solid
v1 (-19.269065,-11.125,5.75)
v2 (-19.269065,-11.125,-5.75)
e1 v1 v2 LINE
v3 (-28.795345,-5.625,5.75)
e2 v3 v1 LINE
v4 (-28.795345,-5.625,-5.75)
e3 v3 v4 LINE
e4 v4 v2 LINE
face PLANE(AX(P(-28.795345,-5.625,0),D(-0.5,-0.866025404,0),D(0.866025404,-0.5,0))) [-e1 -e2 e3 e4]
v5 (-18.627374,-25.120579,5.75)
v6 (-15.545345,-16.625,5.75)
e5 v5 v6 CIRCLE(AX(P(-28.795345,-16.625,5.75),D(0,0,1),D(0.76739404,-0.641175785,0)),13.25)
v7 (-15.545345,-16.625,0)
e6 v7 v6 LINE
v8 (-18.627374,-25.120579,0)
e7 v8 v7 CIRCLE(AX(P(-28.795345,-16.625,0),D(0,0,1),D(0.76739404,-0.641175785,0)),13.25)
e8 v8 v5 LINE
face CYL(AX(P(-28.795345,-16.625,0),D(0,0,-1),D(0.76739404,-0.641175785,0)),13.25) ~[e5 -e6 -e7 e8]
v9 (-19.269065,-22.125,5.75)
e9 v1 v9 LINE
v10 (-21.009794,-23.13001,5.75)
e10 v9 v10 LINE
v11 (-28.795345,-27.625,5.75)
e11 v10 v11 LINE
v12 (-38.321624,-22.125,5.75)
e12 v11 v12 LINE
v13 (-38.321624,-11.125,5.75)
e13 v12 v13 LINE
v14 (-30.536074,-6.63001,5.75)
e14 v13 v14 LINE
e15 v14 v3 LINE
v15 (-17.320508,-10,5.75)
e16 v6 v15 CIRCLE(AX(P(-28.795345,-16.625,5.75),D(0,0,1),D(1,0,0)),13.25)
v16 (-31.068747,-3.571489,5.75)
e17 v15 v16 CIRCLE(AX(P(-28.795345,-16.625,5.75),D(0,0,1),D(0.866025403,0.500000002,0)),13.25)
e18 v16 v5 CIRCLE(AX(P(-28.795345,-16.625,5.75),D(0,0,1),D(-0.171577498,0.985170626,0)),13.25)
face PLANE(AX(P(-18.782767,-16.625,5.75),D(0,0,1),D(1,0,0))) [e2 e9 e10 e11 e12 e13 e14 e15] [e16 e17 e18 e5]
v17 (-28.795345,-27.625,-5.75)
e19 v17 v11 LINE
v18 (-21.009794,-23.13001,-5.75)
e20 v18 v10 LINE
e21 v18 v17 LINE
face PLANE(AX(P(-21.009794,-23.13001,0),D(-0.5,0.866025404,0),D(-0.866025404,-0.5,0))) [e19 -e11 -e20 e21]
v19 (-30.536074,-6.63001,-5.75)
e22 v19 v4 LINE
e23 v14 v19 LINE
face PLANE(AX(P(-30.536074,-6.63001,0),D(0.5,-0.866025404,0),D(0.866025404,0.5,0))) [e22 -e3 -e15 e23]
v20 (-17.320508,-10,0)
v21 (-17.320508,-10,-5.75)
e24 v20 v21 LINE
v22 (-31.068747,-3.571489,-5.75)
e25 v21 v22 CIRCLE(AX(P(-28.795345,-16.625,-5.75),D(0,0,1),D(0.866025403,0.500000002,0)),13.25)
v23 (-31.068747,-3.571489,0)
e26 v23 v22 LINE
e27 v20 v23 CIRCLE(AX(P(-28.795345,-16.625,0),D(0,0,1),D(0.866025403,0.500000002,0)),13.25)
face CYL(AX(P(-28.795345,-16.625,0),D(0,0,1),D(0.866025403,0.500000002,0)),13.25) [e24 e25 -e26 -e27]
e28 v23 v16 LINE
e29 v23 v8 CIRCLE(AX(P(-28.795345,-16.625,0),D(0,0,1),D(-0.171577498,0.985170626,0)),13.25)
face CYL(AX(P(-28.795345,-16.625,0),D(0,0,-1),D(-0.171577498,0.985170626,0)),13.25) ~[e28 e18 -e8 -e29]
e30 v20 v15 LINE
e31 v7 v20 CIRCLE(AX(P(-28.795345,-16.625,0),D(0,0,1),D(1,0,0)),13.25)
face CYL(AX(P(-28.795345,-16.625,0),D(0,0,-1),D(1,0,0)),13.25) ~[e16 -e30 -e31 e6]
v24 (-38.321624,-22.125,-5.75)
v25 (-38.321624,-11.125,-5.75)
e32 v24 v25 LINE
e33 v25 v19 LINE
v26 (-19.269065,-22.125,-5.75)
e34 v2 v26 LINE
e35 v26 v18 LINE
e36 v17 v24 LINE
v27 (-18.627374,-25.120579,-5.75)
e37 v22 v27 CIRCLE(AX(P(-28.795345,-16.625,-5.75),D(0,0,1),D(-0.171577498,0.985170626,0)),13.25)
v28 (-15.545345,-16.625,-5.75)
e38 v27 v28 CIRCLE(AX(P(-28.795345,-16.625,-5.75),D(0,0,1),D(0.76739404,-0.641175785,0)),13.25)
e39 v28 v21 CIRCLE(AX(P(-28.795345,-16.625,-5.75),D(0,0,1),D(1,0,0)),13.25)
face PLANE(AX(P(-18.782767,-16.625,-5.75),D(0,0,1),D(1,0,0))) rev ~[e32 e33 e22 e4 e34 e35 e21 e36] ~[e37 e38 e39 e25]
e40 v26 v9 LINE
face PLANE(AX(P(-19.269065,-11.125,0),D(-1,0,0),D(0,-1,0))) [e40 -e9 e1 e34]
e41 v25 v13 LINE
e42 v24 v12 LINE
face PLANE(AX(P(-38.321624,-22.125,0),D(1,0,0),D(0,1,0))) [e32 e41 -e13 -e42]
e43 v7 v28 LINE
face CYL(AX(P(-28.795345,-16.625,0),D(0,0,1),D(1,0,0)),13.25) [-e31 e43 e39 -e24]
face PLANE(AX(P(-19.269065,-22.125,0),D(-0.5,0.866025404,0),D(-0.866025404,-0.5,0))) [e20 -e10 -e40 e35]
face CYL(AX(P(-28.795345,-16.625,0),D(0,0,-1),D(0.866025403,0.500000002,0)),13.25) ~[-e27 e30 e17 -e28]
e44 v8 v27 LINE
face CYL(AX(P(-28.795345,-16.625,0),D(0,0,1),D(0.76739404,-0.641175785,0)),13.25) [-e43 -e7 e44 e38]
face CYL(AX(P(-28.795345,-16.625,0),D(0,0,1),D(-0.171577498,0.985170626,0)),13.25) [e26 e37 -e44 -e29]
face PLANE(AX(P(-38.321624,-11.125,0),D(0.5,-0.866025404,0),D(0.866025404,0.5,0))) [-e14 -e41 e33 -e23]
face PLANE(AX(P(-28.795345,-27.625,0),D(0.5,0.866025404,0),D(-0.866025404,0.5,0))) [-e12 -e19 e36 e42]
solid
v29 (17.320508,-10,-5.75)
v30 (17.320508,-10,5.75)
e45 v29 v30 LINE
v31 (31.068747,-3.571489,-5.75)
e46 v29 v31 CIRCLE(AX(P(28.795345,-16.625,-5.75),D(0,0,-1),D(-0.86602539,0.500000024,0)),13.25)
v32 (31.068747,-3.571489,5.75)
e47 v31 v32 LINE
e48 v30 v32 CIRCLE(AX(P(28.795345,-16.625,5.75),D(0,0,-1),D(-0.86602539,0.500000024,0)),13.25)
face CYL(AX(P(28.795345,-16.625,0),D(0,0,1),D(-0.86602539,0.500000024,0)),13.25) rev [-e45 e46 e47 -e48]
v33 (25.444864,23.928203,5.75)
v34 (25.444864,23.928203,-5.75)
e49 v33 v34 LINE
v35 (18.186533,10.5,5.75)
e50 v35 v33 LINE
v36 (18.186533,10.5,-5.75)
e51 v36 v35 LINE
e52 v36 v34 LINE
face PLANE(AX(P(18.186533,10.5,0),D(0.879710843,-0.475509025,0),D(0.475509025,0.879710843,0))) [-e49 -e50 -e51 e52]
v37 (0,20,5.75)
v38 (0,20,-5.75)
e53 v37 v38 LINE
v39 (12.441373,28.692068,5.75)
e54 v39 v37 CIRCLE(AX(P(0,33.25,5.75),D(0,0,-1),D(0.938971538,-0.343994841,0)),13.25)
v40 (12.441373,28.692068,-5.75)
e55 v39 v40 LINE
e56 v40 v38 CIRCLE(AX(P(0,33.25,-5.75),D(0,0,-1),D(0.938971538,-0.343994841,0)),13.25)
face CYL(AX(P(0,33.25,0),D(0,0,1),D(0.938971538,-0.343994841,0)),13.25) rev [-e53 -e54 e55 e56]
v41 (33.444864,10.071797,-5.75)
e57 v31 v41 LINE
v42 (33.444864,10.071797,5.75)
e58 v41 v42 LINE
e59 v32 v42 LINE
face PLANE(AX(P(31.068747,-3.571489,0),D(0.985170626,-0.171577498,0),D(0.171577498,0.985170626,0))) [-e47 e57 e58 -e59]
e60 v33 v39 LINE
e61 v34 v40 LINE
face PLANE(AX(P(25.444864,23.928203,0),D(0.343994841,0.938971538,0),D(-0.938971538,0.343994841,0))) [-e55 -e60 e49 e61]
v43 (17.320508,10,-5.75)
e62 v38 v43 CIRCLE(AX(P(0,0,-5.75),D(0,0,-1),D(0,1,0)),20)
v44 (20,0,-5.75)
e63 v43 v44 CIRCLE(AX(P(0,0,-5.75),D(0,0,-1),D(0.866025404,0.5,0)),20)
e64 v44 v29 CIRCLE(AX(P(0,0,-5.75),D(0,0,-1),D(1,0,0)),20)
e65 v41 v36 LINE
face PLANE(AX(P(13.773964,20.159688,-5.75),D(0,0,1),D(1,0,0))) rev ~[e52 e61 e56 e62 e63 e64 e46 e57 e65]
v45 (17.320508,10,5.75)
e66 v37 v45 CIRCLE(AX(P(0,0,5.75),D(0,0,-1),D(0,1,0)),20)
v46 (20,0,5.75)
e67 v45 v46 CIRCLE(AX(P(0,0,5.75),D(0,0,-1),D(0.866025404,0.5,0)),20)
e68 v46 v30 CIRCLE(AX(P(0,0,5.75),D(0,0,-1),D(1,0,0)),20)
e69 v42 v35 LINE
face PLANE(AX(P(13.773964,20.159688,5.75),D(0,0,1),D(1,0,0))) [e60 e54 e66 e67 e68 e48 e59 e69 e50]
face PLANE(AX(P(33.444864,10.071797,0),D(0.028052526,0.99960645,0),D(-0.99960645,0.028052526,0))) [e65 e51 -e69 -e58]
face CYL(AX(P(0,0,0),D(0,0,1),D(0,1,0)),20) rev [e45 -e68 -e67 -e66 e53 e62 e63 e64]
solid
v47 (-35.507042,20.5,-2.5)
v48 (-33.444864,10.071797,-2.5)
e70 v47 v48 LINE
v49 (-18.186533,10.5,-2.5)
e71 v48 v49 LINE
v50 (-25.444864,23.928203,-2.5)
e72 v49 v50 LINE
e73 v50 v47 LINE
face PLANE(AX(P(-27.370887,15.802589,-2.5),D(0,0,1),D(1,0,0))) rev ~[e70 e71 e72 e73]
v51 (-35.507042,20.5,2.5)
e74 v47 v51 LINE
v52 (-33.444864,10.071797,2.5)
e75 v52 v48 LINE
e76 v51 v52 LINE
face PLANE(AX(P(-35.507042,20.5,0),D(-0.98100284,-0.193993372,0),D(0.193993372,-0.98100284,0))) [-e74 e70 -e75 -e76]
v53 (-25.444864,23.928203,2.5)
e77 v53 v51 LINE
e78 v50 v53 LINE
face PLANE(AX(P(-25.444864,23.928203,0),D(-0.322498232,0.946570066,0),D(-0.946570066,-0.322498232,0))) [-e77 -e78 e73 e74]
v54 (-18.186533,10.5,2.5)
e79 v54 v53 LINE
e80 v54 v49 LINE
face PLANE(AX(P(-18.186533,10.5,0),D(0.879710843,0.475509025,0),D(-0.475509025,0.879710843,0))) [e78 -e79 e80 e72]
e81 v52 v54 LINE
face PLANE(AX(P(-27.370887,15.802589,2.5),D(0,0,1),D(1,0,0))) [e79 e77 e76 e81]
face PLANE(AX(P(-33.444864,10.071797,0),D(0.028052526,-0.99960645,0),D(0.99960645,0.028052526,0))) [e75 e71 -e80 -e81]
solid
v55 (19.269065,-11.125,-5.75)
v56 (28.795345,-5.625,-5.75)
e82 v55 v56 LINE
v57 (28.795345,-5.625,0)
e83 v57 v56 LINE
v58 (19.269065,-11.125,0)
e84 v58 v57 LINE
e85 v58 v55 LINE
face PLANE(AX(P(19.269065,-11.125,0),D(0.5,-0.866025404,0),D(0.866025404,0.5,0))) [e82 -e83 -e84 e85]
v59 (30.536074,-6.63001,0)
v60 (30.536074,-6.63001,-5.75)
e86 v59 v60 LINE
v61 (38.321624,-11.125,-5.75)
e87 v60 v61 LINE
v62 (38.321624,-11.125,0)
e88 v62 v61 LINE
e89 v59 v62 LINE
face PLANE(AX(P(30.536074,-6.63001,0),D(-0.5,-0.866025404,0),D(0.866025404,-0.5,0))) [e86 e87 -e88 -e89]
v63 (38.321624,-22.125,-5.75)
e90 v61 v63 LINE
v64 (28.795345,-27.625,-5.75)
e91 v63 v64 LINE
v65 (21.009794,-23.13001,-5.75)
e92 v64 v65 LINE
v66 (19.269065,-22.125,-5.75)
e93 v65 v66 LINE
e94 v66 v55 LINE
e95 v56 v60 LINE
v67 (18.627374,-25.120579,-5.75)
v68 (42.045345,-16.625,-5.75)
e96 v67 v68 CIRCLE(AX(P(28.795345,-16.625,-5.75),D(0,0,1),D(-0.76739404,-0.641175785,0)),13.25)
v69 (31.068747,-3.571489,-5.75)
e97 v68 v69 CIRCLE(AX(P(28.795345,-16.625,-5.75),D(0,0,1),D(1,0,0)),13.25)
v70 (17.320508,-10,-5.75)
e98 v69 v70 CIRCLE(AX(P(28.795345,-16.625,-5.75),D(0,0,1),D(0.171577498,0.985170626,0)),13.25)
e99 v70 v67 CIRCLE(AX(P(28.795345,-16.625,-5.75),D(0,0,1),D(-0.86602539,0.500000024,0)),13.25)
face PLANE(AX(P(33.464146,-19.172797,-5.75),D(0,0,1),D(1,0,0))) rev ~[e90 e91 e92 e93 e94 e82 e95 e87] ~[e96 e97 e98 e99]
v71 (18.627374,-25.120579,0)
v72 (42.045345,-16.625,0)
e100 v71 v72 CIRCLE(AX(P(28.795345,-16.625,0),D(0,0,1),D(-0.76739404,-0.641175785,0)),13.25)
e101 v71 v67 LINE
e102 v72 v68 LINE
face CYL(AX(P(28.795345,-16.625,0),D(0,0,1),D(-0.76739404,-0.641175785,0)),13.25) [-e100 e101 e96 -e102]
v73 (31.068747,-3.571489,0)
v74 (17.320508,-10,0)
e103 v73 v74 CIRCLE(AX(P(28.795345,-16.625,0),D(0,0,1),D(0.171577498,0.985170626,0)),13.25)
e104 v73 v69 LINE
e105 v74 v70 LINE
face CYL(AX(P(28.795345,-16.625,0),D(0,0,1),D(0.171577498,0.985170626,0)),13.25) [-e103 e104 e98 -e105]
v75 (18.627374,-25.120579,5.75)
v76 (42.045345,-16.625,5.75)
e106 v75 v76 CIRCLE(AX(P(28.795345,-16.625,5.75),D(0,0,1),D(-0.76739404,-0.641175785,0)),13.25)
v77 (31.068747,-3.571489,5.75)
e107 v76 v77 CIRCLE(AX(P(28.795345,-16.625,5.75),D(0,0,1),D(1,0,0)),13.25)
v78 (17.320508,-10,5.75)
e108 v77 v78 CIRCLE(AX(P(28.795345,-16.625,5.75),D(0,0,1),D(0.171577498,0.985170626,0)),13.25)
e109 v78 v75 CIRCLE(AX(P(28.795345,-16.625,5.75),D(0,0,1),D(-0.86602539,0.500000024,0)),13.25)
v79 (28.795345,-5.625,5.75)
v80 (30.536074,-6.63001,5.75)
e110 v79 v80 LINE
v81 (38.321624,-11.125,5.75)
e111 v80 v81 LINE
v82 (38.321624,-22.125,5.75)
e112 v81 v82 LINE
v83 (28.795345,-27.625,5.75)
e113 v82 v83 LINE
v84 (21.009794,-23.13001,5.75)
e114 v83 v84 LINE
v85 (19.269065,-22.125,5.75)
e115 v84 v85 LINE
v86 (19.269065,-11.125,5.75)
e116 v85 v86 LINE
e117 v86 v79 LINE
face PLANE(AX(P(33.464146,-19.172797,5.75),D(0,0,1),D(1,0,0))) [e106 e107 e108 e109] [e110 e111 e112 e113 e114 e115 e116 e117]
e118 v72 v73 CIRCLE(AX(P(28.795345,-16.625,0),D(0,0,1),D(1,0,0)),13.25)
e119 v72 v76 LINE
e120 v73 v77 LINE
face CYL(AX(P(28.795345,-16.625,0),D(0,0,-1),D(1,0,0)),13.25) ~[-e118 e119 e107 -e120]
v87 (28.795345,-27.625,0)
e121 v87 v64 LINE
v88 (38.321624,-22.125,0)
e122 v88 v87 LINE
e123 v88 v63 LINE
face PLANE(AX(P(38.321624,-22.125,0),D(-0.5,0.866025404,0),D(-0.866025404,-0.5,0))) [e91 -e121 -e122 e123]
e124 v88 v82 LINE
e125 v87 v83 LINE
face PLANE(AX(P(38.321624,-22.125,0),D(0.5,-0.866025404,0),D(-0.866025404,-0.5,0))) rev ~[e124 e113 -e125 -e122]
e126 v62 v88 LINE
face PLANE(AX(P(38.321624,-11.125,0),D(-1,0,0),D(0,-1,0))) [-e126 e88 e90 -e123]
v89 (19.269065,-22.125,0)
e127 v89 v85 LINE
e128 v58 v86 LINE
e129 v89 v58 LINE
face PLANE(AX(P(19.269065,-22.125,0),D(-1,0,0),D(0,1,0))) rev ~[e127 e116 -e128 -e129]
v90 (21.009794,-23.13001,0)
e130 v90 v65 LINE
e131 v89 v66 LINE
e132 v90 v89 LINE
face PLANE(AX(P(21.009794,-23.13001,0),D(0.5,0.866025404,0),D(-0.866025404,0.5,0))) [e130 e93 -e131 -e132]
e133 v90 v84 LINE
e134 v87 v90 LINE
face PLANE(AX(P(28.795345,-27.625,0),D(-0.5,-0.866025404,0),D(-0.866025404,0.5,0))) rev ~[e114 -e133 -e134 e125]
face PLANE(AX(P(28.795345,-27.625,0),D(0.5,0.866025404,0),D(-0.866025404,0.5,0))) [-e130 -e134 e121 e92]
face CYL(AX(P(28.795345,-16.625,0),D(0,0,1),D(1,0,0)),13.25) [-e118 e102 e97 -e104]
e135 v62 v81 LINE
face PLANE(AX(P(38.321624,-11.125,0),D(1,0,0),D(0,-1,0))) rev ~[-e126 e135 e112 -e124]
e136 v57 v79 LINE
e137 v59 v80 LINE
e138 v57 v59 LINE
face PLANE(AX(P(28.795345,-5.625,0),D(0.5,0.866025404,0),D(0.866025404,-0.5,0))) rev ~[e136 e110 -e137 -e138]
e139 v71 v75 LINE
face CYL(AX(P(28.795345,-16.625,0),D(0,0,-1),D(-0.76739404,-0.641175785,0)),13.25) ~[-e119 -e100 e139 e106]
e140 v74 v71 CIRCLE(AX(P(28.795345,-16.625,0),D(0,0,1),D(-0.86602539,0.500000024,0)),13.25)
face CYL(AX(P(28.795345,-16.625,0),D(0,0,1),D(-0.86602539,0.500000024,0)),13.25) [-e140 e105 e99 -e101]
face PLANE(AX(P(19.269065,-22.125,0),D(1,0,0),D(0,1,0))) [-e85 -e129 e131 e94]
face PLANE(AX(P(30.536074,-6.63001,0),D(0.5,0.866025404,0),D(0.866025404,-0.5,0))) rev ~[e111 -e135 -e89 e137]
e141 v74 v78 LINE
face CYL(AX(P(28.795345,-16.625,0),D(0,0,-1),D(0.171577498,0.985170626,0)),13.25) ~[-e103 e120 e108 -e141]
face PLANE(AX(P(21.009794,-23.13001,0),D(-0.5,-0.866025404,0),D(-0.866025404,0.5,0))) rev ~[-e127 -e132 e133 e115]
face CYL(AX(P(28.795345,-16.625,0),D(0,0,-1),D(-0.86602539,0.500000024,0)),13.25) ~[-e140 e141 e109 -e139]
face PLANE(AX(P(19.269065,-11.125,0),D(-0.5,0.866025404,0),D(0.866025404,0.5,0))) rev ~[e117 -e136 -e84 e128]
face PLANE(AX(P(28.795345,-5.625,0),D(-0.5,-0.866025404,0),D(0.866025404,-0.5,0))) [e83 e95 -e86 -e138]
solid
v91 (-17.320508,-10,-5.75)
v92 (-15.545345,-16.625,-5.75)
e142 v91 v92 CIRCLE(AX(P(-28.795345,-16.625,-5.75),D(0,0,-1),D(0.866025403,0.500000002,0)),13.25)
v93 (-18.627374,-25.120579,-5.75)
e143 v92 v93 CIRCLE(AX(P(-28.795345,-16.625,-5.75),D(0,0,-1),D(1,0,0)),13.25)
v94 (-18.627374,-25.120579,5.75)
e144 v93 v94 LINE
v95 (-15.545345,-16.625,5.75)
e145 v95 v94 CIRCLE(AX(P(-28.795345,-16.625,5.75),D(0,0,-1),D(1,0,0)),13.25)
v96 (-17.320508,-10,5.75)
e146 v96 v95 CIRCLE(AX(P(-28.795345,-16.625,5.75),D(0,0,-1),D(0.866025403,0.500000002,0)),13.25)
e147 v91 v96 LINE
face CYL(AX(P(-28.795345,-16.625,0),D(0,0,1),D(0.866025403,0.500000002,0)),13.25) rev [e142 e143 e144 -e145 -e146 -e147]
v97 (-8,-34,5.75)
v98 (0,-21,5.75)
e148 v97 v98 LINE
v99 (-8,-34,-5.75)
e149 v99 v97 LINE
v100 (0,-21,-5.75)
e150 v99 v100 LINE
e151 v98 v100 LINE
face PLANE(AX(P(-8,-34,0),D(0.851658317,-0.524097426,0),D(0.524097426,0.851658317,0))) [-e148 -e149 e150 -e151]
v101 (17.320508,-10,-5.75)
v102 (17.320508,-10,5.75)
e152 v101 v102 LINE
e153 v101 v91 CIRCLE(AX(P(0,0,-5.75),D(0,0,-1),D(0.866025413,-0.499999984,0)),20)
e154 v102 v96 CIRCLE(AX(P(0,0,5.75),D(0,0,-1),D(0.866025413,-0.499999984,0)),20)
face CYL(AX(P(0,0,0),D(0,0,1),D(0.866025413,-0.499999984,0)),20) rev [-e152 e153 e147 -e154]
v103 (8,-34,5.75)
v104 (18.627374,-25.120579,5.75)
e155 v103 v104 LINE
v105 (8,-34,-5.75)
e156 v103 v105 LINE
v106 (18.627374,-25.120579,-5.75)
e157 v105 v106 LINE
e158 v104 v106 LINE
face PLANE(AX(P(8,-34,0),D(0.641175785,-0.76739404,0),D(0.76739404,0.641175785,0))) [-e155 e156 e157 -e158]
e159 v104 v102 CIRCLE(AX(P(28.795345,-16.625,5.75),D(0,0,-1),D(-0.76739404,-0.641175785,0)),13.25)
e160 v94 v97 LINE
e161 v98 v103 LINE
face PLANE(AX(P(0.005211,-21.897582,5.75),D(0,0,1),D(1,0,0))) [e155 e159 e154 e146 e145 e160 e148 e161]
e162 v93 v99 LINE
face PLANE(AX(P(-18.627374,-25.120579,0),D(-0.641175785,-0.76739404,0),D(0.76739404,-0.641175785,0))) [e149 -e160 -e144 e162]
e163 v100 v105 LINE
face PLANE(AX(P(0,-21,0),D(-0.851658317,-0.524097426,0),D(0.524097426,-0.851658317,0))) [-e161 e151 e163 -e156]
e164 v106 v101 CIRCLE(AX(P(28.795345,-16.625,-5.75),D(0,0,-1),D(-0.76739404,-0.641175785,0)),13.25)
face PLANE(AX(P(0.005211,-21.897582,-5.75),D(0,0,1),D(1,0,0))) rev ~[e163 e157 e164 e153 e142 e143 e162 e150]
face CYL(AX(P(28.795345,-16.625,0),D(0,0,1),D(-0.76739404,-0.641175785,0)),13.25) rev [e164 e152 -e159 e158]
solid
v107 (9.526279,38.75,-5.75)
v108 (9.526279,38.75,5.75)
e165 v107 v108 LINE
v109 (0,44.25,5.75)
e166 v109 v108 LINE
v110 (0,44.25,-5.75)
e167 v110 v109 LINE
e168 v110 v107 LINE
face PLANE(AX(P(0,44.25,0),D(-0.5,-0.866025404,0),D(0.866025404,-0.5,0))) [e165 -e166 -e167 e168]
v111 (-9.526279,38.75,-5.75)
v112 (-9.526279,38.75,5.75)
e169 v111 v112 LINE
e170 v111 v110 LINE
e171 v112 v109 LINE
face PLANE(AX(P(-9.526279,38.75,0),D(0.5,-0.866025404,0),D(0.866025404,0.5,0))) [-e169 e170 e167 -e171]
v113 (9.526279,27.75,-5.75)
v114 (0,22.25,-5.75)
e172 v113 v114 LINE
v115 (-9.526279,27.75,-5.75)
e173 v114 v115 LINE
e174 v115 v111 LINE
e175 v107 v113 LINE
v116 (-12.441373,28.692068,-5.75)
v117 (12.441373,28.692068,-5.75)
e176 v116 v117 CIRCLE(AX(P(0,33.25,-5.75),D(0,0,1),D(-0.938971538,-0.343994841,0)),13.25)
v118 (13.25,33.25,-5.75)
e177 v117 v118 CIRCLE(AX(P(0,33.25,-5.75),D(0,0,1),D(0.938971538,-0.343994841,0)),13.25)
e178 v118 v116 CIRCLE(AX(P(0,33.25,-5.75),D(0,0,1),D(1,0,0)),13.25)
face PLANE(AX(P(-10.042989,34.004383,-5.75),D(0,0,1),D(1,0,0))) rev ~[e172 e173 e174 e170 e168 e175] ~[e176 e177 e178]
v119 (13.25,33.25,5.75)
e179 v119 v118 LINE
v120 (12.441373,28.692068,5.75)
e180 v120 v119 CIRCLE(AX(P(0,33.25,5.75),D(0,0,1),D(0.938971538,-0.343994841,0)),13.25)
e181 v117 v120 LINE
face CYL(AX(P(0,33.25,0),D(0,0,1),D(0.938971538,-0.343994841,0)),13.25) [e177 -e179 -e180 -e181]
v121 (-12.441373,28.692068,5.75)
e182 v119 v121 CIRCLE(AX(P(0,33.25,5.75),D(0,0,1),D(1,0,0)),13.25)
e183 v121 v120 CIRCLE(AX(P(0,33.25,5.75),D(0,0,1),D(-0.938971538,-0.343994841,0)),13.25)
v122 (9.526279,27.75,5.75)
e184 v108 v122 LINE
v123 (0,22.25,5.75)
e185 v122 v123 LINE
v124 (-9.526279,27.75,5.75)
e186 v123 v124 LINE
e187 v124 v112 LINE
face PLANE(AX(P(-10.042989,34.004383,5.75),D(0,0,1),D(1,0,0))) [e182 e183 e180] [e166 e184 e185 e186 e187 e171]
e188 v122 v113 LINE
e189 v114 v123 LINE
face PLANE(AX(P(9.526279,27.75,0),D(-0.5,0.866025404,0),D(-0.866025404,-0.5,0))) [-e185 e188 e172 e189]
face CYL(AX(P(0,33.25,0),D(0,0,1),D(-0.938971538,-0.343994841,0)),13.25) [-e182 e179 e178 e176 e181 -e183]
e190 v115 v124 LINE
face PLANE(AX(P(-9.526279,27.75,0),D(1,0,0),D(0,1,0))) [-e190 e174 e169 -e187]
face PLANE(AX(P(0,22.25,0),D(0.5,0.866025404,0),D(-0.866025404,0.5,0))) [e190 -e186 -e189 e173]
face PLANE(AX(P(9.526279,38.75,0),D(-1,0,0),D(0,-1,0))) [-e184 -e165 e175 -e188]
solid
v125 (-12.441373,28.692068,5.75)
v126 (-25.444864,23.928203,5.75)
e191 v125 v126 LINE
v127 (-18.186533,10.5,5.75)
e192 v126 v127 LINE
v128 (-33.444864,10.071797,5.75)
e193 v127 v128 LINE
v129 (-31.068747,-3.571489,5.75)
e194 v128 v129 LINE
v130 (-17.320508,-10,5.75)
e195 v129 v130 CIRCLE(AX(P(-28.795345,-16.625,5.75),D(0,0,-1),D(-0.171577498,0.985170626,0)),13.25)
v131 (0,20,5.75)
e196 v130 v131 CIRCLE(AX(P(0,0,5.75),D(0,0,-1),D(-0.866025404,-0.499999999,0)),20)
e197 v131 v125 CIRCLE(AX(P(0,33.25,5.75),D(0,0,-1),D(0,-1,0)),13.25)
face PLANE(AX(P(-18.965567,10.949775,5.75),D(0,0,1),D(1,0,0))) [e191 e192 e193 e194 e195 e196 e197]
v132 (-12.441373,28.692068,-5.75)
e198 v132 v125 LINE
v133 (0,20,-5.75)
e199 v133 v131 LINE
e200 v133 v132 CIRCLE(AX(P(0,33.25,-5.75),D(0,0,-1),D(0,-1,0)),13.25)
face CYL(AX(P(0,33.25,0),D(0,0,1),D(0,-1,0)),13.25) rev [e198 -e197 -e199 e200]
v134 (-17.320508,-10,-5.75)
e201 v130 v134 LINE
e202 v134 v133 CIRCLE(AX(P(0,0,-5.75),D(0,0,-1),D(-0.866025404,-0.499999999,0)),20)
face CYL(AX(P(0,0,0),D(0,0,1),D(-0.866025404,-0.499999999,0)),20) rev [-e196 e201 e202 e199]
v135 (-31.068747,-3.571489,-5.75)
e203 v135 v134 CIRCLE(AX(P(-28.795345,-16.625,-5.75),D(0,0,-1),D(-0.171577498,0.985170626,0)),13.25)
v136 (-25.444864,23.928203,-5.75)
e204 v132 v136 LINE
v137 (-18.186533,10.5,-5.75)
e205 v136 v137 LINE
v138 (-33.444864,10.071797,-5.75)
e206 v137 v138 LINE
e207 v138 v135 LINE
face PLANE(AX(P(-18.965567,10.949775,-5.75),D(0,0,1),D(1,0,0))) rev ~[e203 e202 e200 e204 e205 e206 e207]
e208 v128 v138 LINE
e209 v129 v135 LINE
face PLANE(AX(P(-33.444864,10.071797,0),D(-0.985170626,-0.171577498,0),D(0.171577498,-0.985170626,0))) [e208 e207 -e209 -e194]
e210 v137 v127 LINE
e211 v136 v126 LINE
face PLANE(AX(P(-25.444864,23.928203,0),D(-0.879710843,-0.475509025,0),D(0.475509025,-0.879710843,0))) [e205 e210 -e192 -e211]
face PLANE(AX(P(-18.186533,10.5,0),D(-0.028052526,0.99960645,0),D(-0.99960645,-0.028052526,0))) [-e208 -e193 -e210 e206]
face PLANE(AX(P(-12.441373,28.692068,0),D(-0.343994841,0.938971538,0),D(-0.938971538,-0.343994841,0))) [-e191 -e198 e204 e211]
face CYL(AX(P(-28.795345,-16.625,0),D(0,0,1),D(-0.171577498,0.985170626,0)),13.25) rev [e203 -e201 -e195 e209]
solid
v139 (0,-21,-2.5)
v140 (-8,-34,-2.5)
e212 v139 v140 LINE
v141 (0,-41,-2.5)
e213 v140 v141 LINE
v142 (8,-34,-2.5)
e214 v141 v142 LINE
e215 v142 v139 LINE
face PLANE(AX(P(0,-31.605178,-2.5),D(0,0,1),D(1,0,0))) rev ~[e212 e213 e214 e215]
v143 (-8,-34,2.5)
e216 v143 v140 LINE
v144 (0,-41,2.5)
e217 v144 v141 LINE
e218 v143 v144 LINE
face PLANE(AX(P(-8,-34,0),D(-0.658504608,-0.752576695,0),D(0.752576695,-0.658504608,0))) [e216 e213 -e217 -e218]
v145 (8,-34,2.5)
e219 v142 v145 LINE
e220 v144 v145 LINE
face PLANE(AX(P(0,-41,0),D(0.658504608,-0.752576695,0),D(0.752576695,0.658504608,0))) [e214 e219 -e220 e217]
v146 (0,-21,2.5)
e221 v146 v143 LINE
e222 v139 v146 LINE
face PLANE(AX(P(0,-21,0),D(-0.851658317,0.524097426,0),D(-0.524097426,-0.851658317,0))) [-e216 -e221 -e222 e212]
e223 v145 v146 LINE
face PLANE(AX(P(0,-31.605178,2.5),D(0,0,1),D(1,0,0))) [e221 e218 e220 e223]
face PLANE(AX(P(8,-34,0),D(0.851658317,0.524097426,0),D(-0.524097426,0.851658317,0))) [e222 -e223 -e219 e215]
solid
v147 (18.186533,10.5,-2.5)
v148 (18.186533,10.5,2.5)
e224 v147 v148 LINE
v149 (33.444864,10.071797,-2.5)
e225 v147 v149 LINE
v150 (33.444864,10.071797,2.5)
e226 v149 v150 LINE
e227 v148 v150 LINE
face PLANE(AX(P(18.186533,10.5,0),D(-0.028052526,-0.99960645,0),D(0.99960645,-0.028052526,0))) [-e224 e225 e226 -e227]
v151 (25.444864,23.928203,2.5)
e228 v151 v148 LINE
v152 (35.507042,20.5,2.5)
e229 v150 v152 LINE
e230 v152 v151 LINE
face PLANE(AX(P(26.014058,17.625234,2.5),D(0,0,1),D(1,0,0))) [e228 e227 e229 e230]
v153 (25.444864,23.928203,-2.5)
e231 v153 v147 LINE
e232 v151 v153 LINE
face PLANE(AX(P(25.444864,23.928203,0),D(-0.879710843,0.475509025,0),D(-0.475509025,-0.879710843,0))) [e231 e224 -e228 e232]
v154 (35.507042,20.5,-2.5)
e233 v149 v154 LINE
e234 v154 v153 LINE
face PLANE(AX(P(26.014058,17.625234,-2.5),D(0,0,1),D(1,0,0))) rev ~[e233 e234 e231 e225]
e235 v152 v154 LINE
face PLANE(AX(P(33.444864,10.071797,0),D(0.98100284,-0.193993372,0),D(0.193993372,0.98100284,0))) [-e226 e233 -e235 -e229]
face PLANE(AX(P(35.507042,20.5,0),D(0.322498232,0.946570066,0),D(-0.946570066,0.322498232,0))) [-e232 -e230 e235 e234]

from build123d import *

# Parameters (mm, degrees)
F1_DEPTH = 5.75
F2_DEPTH = 2.5
F3_DEPTH = 5.75


with BuildPart() as f1:
    # F0 (on Top) → F1 (new body, symmetric)
    with BuildSketch(Plane.XY):
        with BuildLine():
            ThreePointArc((4.1e-09, 20), (10.0000000018, 17.3205080747), (17.3205080757, 10))
            Line((17.3205080757, 10), (18.1865334795, 10.5))
            Line((18.1865334795, 10.5), (25.4448637287, 23.9282032303))
            Line((25.4448637287, 23.9282032303), (12.4413728802, 28.6920683576))
            ThreePointArc((12.4413728802, 28.6920683576), (7.5884750046, 22.3882530362), (4.1e-09, 20))
        make_face()
        with BuildLine():
            ThreePointArc((17.3205080757, 10), (19.3185165258, 5.1763809021), (20, 0))
            ThreePointArc((20, 0), (19.3185165739, -5.1763807226), (17.3205082615, -9.9999996782))
            ThreePointArc((17.3205082615, -9.9999996782), (23.1830335444, -4.6223143104), (31.0687465249, -3.5714892066))
            Line((31.0687465249, -3.5714892066), (33.4448637287, 10.0717967697))
            Line((33.4448637287, 10.0717967697), (18.1865334795, 10.5))
            Line((18.1865334795, 10.5), (17.3205080757, 10))
        make_face()
    extrude(amount=F1_DEPTH, both=True)


with BuildPart() as f1b:
    # F0 (on Top) → F1, piece 2 (new body, symmetric)
    with BuildSketch(Plane.XY):
        with BuildLine():
            ThreePointArc((18.6273736447, -25.120579151), (15.5945583573, -17.7659384609), (17.3205082615, -9.9999996782))
            ThreePointArc((17.3205082615, -9.9999996782), (1.727e-07, -20), (-17.3205080887, -9.9999999774))
            ThreePointArc((-17.3205080887, -9.9999999774), (-15.9968274809, -13.1956476398), (-15.5453446758, -16.625))
            ThreePointArc((-15.5453446758, -16.625), (-16.3396609097, -21.1436770098), (-18.6273736447, -25.120579151))
            Line((-18.6273736447, -25.120579151), (-8, -34))
            Line((-8, -34), (0, -21))
            Line((0, -21), (8, -34))
            Line((8, -34), (18.6273736447, -25.120579151))
        make_face()
    extrude(amount=F1_DEPTH, both=True)


with BuildPart() as f1c:
    # F0 (on Top) → F1, piece 3 (new body, symmetric)
    with BuildSketch(Plane.XY):
        with BuildLine():
            ThreePointArc((-17.3205080887, -9.9999999774), (-17.3205080681, 10.0000000131), (4.1e-09, 20))
            ThreePointArc((4.1e-09, 20), (-7.5884750012, 22.3882530339), (-12.4413728802, 28.6920683576))
            Line((-12.4413728802, 28.6920683576), (-25.4448637287, 23.9282032303))
            Line((-25.4448637287, 23.9282032303), (-18.1865334795, 10.5))
            Line((-18.1865334795, 10.5), (-33.4448637287, 10.0717967697))
            Line((-33.4448637287, 10.0717967697), (-31.0687465249, -3.5714892066))
            ThreePointArc((-31.0687465249, -3.5714892066), (-23.183033388, -4.6223143835), (-17.3205080887, -9.9999999774))
        make_face()
    extrude(amount=F1_DEPTH, both=True)


with BuildPart() as f2:
    # F0 (on Top) → F2 (new body, symmetric)
    with BuildSketch(Plane.XY):
        Polygon((25.4448637287, 23.9282032303), (18.1865334795, 10.5), (29.4448637287, 17), (35.5070415552, 20.5), align=None)
        Polygon((35.5070415552, 20.5), (29.4448637287, 17), (33.4448637287, 10.0717967697), align=None)
        Polygon((29.4448637287, 17), (18.1865334795, 10.5), (33.4448637287, 10.0717967697), align=None)
    extrude(amount=F2_DEPTH, both=True)


with BuildPart() as f2b:
    # F0 (on Top) → F2, piece 2 (new body, symmetric)
    with BuildSketch(Plane.XY):
        Polygon((-18.1865334795, 10.5), (-25.4448637287, 23.9282032303), (-35.5070415552, 20.5), (-33.4448637287, 10.0717967697), align=None)
    extrude(amount=F2_DEPTH, both=True)


with BuildPart() as f2c:
    # F0 (on Top) → F2, piece 3 (new body, symmetric)
    with BuildSketch(Plane.XY):
        Polygon((0, -41), (8, -34), (0, -21), (-8, -34), align=None)
    extrude(amount=F2_DEPTH, both=True)


with BuildPart() as f3:
    # F0 (on Top) → F3 (new body, symmetric)
    with BuildSketch(Plane.XY):
        with BuildLine():
            ThreePointArc((42.0453446758, -16.625), (38.9364756409, -8.097399942), (31.0687465249, -3.5714892066))
            Line((31.0687465249, -3.5714892066), (30.6826971543, -5.7881231149))
            ThreePointArc((30.6826971543, -5.7881231149), (35.0952107159, -7.6077006329), (38.3216241175, -11.125))
            ThreePointArc((38.3216241175, -11.125), (39.420528765, -13.7779905039), (39.7953446758, -16.625))
            ThreePointArc((39.7953446758, -16.625), (39.420528765, -19.4720094961), (38.3216241175, -22.125))
            ThreePointArc((38.3216241175, -22.125), (34.2953446758, -26.1512794416), (28.7953446758, -27.625))
            ThreePointArc((28.7953446758, -27.625), (24.1360673704, -26.5894937147), (20.3540102349, -23.6779336348))
            Line((20.3540102349, -23.6779336348), (18.6273736447, -25.120579151))
            ThreePointArc((18.6273736447, -25.120579151), (33.3140216856, -29.0806837661), (42.0453446758, -16.625))
        make_face()
        with BuildLine():
            ThreePointArc((38.3216241175, -11.125), (35.0952107159, -7.6077006329), (30.6826971543, -5.7881231149))
            Line((30.6826971543, -5.7881231149), (30.5360738949, -6.6300104832))
            Line((30.5360738949, -6.6300104832), (38.3216241175, -11.125))
        make_face()
        with BuildLine():
            ThreePointArc((39.7953446758, -16.625), (39.420528765, -13.7779905039), (38.3216241175, -11.125))
            Line((38.3216241175, -11.125), (38.3216241175, -22.125))
            ThreePointArc((38.3216241175, -22.125), (39.420528765, -19.4720094961), (39.7953446758, -16.625))
        make_face()
        with BuildLine():
            Line((38.3216241175, -22.125), (28.7953446758, -27.625))
            ThreePointArc((28.7953446758, -27.625), (34.2953446758, -26.1512794416), (38.3216241175, -22.125))
        make_face()
        with BuildLine():
            Line((21.0097944532, -23.1300104832), (20.3540102349, -23.6779336348))
            ThreePointArc((20.3540102349, -23.6779336348), (24.1360673704, -26.5894937147), (28.7953446758, -27.625))
            Line((28.7953446758, -27.625), (21.0097944532, -23.1300104832))
        make_face()
        with BuildLine():
            ThreePointArc((19.2690652342, -11.125), (17.7953446758, -16.625), (19.2690652342, -22.125))
            Line((19.2690652342, -22.125), (19.2690652342, -11.125))
        make_face()
        with BuildLine():
            Line((19.2690652342, -11.125), (28.7953446758, -5.625))
            ThreePointArc((28.7953446758, -5.625), (23.2953446758, -7.0987205584), (19.2690652342, -11.125))
        make_face()
        with BuildLine():
            Line((30.5360738949, -6.6300104832), (30.6826971543, -5.7881231149))
            ThreePointArc((30.6826971543, -5.7881231149), (29.7425390234, -5.6658566545), (28.7953446758, -5.625))
            Line((28.7953446758, -5.625), (30.5360738949, -6.6300104832))
        make_face()
        with BuildLine():
            ThreePointArc((31.0687465249, -3.5714892066), (23.1830335444, -4.6223143104), (17.3205082615, -9.9999996782))
            ThreePointArc((17.3205082615, -9.9999996782), (15.5945583573, -17.7659384609), (18.6273736447, -25.120579151))
            Line((18.6273736447, -25.120579151), (20.3540102349, -23.6779336348))
            ThreePointArc((20.3540102349, -23.6779336348), (19.7780453087, -22.9248660401), (19.2690652342, -22.125))
            ThreePointArc((19.2690652342, -22.125), (17.7953446758, -16.625), (19.2690652342, -11.125))
            ThreePointArc((19.2690652342, -11.125), (23.2953446758, -7.0987205584), (28.7953446758, -5.625))
            ThreePointArc((28.7953446758, -5.625), (29.7425390234, -5.6658566545), (30.6826971543, -5.7881231149))
            Line((30.6826971543, -5.7881231149), (31.0687465249, -3.5714892066))
        make_face()
        with BuildLine():
            ThreePointArc((19.2690652342, -22.125), (19.7780453087, -22.9248660401), (20.3540102349, -23.6779336348))
            Line((20.3540102349, -23.6779336348), (21.0097944532, -23.1300104832))
            Line((21.0097944532, -23.1300104832), (19.2690652342, -22.125))
        make_face()
    extrude(amount=F3_DEPTH, both=True)


with BuildPart() as f3b:
    # F0 (on Top) → F3, piece 2 (new body, symmetric)
    with BuildSketch(Plane.XY):
        with BuildLine():
            Line((-19.2690652342, -11.125), (-19.2690652342, -22.125))
            ThreePointArc((-19.2690652342, -22.125), (-18.1701605867, -19.4720094961), (-17.7953446758, -16.625))
            ThreePointArc((-17.7953446758, -16.625), (-18.1701605867, -13.7779905039), (-19.2690652342, -11.125))
        make_face()
        with BuildLine():
            ThreePointArc((-15.5453446758, -16.625), (-15.9968274809, -13.1956476398), (-17.3205080887, -9.9999999774))
            ThreePointArc((-17.3205080887, -9.9999999774), (-23.183033388, -4.6223143835), (-31.0687465249, -3.5714892066))
            Line((-31.0687465249, -3.5714892066), (-30.6826971543, -5.7881231149))
            ThreePointArc((-30.6826971543, -5.7881231149), (-29.7425390234, -5.6658566545), (-28.7953446758, -5.625))
            ThreePointArc((-28.7953446758, -5.625), (-23.2953446758, -7.0987205584), (-19.2690652342, -11.125))
            ThreePointArc((-19.2690652342, -11.125), (-18.1701605867, -13.7779905039), (-17.7953446758, -16.625))
            ThreePointArc((-17.7953446758, -16.625), (-18.1701605867, -19.4720094961), (-19.2690652342, -22.125))
            ThreePointArc((-19.2690652342, -22.125), (-19.7780453087, -22.9248660401), (-20.3540102349, -23.6779336348))
            Line((-20.3540102349, -23.6779336348), (-18.6273736447, -25.120579151))
            ThreePointArc((-18.6273736447, -25.120579151), (-16.3396609097, -21.1436770098), (-15.5453446758, -16.625))
        make_face()
        with BuildLine():
            Line((-21.0097944532, -23.1300104832), (-20.3540102349, -23.6779336348))
            ThreePointArc((-20.3540102349, -23.6779336348), (-19.7780453087, -22.9248660401), (-19.2690652342, -22.125))
            Line((-19.2690652342, -22.125), (-21.0097944532, -23.1300104832))
        make_face()
        with BuildLine():
            Line((-30.6826971543, -5.7881231149), (-31.0687465249, -3.5714892066))
            ThreePointArc((-31.0687465249, -3.5714892066), (-40.270181276, -23.25), (-18.6273736447, -25.120579151))
            Line((-18.6273736447, -25.120579151), (-20.3540102349, -23.6779336348))
            ThreePointArc((-20.3540102349, -23.6779336348), (-24.1360673704, -26.5894937147), (-28.7953446758, -27.625))
            ThreePointArc((-28.7953446758, -27.625), (-34.2953446758, -26.1512794416), (-38.3216241175, -22.125))
            ThreePointArc((-38.3216241175, -22.125), (-39.7953446758, -16.625), (-38.3216241175, -11.125))
            ThreePointArc((-38.3216241175, -11.125), (-35.0952107159, -7.6077006329), (-30.6826971543, -5.7881231149))
        make_face()
        with BuildLine():
            ThreePointArc((-28.7953446758, -27.625), (-24.1360673704, -26.5894937147), (-20.3540102349, -23.6779336348))
            Line((-20.3540102349, -23.6779336348), (-21.0097944532, -23.1300104832))
            Line((-21.0097944532, -23.1300104832), (-28.7953446758, -27.625))
        make_face()
        with BuildLine():
            ThreePointArc((-38.3216241175, -22.125), (-34.2953446758, -26.1512794416), (-28.7953446758, -27.625))
            Line((-28.7953446758, -27.625), (-38.3216241175, -22.125))
        make_face()
        with BuildLine():
            Line((-38.3216241175, -22.125), (-38.3216241175, -11.125))
            ThreePointArc((-38.3216241175, -11.125), (-39.7953446758, -16.625), (-38.3216241175, -22.125))
        make_face()
        with BuildLine():
            Line((-30.5360738949, -6.6300104832), (-30.6826971543, -5.7881231149))
            ThreePointArc((-30.6826971543, -5.7881231149), (-35.0952107159, -7.6077006329), (-38.3216241175, -11.125))
            Line((-38.3216241175, -11.125), (-30.5360738949, -6.6300104832))
        make_face()
        with BuildLine():
            ThreePointArc((-28.7953446758, -5.625), (-29.7425390234, -5.6658566545), (-30.6826971543, -5.7881231149))
            Line((-30.6826971543, -5.7881231149), (-30.5360738949, -6.6300104832))
            Line((-30.5360738949, -6.6300104832), (-28.7953446758, -5.625))
        make_face()
        with BuildLine():
            ThreePointArc((-19.2690652342, -11.125), (-23.2953446758, -7.0987205584), (-28.7953446758, -5.625))
            Line((-28.7953446758, -5.625), (-19.2690652342, -11.125))
        make_face()
    extrude(amount=F3_DEPTH, both=True)


with BuildPart() as f3c:
    # F0 (on Top) → F3, piece 3 (new body, symmetric)
    with BuildSketch(Plane.XY):
        with BuildLine():
            ThreePointArc((-9.5262794416, 38.75), (-10.9591433455, 34.1971943476), (-10.3286869194, 29.4660567497))
            Line((-10.3286869194, 29.4660567497), (-9.5262794416, 29.7600209664))
            Line((-9.5262794416, 29.7600209664), (-9.5262794416, 38.75))
        make_face()
        with BuildLine():
            ThreePointArc((0, 44.25), (-5.5, 42.7762794416), (-9.5262794416, 38.75))
            Line((-9.5262794416, 38.75), (0, 44.25))
        make_face()
        with BuildLine():
            Line((-9.5262794416, 29.7600209664), (-10.3286869194, 29.4660567497))
            ThreePointArc((-10.3286869194, 29.4660567497), (-9.9644937147, 28.5907226946), (-9.5262794416, 27.75))
            Line((-9.5262794416, 27.75), (-9.5262794416, 29.7600209664))
        make_face()
        with BuildLine():
            Line((0, 22.25), (-9.5262794416, 27.75))
            ThreePointArc((-9.5262794416, 27.75), (-5.5, 23.7237205584), (0, 22.25))
        make_face()
        with BuildLine():
            ThreePointArc((-12.4413728802, 28.6920683576), (-7.5884750012, 22.3882530339), (4.1e-09, 20))
            ThreePointArc((4.1e-09, 20), (7.5884750046, 22.3882530362), (12.4413728802, 28.6920683576))
            Line((12.4413728802, 28.6920683576), (10.3286869194, 29.4660567497))
            ThreePointArc((10.3286869194, 29.4660567497), (9.9644937147, 28.5907226946), (9.5262794416, 27.75))
            ThreePointArc((9.5262794416, 27.75), (5.5, 23.7237205584), (0, 22.25))
            ThreePointArc((0, 22.25), (-5.5, 23.7237205584), (-9.5262794416, 27.75))
            ThreePointArc((-9.5262794416, 27.75), (-9.9644937147, 28.5907226946), (-10.3286869194, 29.4660567497))
            Line((-10.3286869194, 29.4660567497), (-12.4413728802, 28.6920683576))
        make_face()
        with BuildLine():
            ThreePointArc((0, 22.25), (5.5, 23.7237205584), (9.5262794416, 27.75))
            Line((9.5262794416, 27.75), (0, 22.25))
        make_face()
        with BuildLine():
            Line((9.5262794416, 29.7600209664), (10.3286869194, 29.4660567497))
            ThreePointArc((10.3286869194, 29.4660567497), (10.830871528, 31.328484467), (11, 33.25))
            ThreePointArc((11, 33.25), (10.6251840892, 36.0970094961), (9.5262794416, 38.75))
            Line((9.5262794416, 38.75), (9.5262794416, 29.7600209664))
        make_face()
        with BuildLine():
            ThreePointArc((13.25, 33.25), (-2.3145528011, 46.2962770678), (-12.4413728802, 28.6920683576))
            Line((-12.4413728802, 28.6920683576), (-10.3286869194, 29.4660567497))
            ThreePointArc((-10.3286869194, 29.4660567497), (-10.9591433455, 34.1971943476), (-9.5262794416, 38.75))
            ThreePointArc((-9.5262794416, 38.75), (-5.5, 42.7762794416), (0, 44.25))
            ThreePointArc((0, 44.25), (5.5, 42.7762794416), (9.5262794416, 38.75))
            ThreePointArc((9.5262794416, 38.75), (10.6251840892, 36.0970094961), (11, 33.25))
            ThreePointArc((11, 33.25), (10.830871528, 31.328484467), (10.3286869194, 29.4660567497))
            Line((10.3286869194, 29.4660567497), (12.4413728802, 28.6920683576))
            ThreePointArc((12.4413728802, 28.6920683576), (13.0462770678, 30.9354471989), (13.25, 33.25))
        make_face()
        with BuildLine():
            ThreePointArc((9.5262794416, 38.75), (5.5, 42.7762794416), (0, 44.25))
            Line((0, 44.25), (9.5262794416, 38.75))
        make_face()
        with BuildLine():
            ThreePointArc((9.5262794416, 27.75), (9.9644937147, 28.5907226946), (10.3286869194, 29.4660567497))
            Line((10.3286869194, 29.4660567497), (9.5262794416, 29.7600209664))
            Line((9.5262794416, 29.7600209664), (9.5262794416, 27.75))
        make_face()
    extrude(amount=F3_DEPTH, both=True)


solid = Compound([f1.part, f1b.part, f1c.part, f2.part, f2b.part, f2c.part, f3.part, f3b.part, f3c.part])
